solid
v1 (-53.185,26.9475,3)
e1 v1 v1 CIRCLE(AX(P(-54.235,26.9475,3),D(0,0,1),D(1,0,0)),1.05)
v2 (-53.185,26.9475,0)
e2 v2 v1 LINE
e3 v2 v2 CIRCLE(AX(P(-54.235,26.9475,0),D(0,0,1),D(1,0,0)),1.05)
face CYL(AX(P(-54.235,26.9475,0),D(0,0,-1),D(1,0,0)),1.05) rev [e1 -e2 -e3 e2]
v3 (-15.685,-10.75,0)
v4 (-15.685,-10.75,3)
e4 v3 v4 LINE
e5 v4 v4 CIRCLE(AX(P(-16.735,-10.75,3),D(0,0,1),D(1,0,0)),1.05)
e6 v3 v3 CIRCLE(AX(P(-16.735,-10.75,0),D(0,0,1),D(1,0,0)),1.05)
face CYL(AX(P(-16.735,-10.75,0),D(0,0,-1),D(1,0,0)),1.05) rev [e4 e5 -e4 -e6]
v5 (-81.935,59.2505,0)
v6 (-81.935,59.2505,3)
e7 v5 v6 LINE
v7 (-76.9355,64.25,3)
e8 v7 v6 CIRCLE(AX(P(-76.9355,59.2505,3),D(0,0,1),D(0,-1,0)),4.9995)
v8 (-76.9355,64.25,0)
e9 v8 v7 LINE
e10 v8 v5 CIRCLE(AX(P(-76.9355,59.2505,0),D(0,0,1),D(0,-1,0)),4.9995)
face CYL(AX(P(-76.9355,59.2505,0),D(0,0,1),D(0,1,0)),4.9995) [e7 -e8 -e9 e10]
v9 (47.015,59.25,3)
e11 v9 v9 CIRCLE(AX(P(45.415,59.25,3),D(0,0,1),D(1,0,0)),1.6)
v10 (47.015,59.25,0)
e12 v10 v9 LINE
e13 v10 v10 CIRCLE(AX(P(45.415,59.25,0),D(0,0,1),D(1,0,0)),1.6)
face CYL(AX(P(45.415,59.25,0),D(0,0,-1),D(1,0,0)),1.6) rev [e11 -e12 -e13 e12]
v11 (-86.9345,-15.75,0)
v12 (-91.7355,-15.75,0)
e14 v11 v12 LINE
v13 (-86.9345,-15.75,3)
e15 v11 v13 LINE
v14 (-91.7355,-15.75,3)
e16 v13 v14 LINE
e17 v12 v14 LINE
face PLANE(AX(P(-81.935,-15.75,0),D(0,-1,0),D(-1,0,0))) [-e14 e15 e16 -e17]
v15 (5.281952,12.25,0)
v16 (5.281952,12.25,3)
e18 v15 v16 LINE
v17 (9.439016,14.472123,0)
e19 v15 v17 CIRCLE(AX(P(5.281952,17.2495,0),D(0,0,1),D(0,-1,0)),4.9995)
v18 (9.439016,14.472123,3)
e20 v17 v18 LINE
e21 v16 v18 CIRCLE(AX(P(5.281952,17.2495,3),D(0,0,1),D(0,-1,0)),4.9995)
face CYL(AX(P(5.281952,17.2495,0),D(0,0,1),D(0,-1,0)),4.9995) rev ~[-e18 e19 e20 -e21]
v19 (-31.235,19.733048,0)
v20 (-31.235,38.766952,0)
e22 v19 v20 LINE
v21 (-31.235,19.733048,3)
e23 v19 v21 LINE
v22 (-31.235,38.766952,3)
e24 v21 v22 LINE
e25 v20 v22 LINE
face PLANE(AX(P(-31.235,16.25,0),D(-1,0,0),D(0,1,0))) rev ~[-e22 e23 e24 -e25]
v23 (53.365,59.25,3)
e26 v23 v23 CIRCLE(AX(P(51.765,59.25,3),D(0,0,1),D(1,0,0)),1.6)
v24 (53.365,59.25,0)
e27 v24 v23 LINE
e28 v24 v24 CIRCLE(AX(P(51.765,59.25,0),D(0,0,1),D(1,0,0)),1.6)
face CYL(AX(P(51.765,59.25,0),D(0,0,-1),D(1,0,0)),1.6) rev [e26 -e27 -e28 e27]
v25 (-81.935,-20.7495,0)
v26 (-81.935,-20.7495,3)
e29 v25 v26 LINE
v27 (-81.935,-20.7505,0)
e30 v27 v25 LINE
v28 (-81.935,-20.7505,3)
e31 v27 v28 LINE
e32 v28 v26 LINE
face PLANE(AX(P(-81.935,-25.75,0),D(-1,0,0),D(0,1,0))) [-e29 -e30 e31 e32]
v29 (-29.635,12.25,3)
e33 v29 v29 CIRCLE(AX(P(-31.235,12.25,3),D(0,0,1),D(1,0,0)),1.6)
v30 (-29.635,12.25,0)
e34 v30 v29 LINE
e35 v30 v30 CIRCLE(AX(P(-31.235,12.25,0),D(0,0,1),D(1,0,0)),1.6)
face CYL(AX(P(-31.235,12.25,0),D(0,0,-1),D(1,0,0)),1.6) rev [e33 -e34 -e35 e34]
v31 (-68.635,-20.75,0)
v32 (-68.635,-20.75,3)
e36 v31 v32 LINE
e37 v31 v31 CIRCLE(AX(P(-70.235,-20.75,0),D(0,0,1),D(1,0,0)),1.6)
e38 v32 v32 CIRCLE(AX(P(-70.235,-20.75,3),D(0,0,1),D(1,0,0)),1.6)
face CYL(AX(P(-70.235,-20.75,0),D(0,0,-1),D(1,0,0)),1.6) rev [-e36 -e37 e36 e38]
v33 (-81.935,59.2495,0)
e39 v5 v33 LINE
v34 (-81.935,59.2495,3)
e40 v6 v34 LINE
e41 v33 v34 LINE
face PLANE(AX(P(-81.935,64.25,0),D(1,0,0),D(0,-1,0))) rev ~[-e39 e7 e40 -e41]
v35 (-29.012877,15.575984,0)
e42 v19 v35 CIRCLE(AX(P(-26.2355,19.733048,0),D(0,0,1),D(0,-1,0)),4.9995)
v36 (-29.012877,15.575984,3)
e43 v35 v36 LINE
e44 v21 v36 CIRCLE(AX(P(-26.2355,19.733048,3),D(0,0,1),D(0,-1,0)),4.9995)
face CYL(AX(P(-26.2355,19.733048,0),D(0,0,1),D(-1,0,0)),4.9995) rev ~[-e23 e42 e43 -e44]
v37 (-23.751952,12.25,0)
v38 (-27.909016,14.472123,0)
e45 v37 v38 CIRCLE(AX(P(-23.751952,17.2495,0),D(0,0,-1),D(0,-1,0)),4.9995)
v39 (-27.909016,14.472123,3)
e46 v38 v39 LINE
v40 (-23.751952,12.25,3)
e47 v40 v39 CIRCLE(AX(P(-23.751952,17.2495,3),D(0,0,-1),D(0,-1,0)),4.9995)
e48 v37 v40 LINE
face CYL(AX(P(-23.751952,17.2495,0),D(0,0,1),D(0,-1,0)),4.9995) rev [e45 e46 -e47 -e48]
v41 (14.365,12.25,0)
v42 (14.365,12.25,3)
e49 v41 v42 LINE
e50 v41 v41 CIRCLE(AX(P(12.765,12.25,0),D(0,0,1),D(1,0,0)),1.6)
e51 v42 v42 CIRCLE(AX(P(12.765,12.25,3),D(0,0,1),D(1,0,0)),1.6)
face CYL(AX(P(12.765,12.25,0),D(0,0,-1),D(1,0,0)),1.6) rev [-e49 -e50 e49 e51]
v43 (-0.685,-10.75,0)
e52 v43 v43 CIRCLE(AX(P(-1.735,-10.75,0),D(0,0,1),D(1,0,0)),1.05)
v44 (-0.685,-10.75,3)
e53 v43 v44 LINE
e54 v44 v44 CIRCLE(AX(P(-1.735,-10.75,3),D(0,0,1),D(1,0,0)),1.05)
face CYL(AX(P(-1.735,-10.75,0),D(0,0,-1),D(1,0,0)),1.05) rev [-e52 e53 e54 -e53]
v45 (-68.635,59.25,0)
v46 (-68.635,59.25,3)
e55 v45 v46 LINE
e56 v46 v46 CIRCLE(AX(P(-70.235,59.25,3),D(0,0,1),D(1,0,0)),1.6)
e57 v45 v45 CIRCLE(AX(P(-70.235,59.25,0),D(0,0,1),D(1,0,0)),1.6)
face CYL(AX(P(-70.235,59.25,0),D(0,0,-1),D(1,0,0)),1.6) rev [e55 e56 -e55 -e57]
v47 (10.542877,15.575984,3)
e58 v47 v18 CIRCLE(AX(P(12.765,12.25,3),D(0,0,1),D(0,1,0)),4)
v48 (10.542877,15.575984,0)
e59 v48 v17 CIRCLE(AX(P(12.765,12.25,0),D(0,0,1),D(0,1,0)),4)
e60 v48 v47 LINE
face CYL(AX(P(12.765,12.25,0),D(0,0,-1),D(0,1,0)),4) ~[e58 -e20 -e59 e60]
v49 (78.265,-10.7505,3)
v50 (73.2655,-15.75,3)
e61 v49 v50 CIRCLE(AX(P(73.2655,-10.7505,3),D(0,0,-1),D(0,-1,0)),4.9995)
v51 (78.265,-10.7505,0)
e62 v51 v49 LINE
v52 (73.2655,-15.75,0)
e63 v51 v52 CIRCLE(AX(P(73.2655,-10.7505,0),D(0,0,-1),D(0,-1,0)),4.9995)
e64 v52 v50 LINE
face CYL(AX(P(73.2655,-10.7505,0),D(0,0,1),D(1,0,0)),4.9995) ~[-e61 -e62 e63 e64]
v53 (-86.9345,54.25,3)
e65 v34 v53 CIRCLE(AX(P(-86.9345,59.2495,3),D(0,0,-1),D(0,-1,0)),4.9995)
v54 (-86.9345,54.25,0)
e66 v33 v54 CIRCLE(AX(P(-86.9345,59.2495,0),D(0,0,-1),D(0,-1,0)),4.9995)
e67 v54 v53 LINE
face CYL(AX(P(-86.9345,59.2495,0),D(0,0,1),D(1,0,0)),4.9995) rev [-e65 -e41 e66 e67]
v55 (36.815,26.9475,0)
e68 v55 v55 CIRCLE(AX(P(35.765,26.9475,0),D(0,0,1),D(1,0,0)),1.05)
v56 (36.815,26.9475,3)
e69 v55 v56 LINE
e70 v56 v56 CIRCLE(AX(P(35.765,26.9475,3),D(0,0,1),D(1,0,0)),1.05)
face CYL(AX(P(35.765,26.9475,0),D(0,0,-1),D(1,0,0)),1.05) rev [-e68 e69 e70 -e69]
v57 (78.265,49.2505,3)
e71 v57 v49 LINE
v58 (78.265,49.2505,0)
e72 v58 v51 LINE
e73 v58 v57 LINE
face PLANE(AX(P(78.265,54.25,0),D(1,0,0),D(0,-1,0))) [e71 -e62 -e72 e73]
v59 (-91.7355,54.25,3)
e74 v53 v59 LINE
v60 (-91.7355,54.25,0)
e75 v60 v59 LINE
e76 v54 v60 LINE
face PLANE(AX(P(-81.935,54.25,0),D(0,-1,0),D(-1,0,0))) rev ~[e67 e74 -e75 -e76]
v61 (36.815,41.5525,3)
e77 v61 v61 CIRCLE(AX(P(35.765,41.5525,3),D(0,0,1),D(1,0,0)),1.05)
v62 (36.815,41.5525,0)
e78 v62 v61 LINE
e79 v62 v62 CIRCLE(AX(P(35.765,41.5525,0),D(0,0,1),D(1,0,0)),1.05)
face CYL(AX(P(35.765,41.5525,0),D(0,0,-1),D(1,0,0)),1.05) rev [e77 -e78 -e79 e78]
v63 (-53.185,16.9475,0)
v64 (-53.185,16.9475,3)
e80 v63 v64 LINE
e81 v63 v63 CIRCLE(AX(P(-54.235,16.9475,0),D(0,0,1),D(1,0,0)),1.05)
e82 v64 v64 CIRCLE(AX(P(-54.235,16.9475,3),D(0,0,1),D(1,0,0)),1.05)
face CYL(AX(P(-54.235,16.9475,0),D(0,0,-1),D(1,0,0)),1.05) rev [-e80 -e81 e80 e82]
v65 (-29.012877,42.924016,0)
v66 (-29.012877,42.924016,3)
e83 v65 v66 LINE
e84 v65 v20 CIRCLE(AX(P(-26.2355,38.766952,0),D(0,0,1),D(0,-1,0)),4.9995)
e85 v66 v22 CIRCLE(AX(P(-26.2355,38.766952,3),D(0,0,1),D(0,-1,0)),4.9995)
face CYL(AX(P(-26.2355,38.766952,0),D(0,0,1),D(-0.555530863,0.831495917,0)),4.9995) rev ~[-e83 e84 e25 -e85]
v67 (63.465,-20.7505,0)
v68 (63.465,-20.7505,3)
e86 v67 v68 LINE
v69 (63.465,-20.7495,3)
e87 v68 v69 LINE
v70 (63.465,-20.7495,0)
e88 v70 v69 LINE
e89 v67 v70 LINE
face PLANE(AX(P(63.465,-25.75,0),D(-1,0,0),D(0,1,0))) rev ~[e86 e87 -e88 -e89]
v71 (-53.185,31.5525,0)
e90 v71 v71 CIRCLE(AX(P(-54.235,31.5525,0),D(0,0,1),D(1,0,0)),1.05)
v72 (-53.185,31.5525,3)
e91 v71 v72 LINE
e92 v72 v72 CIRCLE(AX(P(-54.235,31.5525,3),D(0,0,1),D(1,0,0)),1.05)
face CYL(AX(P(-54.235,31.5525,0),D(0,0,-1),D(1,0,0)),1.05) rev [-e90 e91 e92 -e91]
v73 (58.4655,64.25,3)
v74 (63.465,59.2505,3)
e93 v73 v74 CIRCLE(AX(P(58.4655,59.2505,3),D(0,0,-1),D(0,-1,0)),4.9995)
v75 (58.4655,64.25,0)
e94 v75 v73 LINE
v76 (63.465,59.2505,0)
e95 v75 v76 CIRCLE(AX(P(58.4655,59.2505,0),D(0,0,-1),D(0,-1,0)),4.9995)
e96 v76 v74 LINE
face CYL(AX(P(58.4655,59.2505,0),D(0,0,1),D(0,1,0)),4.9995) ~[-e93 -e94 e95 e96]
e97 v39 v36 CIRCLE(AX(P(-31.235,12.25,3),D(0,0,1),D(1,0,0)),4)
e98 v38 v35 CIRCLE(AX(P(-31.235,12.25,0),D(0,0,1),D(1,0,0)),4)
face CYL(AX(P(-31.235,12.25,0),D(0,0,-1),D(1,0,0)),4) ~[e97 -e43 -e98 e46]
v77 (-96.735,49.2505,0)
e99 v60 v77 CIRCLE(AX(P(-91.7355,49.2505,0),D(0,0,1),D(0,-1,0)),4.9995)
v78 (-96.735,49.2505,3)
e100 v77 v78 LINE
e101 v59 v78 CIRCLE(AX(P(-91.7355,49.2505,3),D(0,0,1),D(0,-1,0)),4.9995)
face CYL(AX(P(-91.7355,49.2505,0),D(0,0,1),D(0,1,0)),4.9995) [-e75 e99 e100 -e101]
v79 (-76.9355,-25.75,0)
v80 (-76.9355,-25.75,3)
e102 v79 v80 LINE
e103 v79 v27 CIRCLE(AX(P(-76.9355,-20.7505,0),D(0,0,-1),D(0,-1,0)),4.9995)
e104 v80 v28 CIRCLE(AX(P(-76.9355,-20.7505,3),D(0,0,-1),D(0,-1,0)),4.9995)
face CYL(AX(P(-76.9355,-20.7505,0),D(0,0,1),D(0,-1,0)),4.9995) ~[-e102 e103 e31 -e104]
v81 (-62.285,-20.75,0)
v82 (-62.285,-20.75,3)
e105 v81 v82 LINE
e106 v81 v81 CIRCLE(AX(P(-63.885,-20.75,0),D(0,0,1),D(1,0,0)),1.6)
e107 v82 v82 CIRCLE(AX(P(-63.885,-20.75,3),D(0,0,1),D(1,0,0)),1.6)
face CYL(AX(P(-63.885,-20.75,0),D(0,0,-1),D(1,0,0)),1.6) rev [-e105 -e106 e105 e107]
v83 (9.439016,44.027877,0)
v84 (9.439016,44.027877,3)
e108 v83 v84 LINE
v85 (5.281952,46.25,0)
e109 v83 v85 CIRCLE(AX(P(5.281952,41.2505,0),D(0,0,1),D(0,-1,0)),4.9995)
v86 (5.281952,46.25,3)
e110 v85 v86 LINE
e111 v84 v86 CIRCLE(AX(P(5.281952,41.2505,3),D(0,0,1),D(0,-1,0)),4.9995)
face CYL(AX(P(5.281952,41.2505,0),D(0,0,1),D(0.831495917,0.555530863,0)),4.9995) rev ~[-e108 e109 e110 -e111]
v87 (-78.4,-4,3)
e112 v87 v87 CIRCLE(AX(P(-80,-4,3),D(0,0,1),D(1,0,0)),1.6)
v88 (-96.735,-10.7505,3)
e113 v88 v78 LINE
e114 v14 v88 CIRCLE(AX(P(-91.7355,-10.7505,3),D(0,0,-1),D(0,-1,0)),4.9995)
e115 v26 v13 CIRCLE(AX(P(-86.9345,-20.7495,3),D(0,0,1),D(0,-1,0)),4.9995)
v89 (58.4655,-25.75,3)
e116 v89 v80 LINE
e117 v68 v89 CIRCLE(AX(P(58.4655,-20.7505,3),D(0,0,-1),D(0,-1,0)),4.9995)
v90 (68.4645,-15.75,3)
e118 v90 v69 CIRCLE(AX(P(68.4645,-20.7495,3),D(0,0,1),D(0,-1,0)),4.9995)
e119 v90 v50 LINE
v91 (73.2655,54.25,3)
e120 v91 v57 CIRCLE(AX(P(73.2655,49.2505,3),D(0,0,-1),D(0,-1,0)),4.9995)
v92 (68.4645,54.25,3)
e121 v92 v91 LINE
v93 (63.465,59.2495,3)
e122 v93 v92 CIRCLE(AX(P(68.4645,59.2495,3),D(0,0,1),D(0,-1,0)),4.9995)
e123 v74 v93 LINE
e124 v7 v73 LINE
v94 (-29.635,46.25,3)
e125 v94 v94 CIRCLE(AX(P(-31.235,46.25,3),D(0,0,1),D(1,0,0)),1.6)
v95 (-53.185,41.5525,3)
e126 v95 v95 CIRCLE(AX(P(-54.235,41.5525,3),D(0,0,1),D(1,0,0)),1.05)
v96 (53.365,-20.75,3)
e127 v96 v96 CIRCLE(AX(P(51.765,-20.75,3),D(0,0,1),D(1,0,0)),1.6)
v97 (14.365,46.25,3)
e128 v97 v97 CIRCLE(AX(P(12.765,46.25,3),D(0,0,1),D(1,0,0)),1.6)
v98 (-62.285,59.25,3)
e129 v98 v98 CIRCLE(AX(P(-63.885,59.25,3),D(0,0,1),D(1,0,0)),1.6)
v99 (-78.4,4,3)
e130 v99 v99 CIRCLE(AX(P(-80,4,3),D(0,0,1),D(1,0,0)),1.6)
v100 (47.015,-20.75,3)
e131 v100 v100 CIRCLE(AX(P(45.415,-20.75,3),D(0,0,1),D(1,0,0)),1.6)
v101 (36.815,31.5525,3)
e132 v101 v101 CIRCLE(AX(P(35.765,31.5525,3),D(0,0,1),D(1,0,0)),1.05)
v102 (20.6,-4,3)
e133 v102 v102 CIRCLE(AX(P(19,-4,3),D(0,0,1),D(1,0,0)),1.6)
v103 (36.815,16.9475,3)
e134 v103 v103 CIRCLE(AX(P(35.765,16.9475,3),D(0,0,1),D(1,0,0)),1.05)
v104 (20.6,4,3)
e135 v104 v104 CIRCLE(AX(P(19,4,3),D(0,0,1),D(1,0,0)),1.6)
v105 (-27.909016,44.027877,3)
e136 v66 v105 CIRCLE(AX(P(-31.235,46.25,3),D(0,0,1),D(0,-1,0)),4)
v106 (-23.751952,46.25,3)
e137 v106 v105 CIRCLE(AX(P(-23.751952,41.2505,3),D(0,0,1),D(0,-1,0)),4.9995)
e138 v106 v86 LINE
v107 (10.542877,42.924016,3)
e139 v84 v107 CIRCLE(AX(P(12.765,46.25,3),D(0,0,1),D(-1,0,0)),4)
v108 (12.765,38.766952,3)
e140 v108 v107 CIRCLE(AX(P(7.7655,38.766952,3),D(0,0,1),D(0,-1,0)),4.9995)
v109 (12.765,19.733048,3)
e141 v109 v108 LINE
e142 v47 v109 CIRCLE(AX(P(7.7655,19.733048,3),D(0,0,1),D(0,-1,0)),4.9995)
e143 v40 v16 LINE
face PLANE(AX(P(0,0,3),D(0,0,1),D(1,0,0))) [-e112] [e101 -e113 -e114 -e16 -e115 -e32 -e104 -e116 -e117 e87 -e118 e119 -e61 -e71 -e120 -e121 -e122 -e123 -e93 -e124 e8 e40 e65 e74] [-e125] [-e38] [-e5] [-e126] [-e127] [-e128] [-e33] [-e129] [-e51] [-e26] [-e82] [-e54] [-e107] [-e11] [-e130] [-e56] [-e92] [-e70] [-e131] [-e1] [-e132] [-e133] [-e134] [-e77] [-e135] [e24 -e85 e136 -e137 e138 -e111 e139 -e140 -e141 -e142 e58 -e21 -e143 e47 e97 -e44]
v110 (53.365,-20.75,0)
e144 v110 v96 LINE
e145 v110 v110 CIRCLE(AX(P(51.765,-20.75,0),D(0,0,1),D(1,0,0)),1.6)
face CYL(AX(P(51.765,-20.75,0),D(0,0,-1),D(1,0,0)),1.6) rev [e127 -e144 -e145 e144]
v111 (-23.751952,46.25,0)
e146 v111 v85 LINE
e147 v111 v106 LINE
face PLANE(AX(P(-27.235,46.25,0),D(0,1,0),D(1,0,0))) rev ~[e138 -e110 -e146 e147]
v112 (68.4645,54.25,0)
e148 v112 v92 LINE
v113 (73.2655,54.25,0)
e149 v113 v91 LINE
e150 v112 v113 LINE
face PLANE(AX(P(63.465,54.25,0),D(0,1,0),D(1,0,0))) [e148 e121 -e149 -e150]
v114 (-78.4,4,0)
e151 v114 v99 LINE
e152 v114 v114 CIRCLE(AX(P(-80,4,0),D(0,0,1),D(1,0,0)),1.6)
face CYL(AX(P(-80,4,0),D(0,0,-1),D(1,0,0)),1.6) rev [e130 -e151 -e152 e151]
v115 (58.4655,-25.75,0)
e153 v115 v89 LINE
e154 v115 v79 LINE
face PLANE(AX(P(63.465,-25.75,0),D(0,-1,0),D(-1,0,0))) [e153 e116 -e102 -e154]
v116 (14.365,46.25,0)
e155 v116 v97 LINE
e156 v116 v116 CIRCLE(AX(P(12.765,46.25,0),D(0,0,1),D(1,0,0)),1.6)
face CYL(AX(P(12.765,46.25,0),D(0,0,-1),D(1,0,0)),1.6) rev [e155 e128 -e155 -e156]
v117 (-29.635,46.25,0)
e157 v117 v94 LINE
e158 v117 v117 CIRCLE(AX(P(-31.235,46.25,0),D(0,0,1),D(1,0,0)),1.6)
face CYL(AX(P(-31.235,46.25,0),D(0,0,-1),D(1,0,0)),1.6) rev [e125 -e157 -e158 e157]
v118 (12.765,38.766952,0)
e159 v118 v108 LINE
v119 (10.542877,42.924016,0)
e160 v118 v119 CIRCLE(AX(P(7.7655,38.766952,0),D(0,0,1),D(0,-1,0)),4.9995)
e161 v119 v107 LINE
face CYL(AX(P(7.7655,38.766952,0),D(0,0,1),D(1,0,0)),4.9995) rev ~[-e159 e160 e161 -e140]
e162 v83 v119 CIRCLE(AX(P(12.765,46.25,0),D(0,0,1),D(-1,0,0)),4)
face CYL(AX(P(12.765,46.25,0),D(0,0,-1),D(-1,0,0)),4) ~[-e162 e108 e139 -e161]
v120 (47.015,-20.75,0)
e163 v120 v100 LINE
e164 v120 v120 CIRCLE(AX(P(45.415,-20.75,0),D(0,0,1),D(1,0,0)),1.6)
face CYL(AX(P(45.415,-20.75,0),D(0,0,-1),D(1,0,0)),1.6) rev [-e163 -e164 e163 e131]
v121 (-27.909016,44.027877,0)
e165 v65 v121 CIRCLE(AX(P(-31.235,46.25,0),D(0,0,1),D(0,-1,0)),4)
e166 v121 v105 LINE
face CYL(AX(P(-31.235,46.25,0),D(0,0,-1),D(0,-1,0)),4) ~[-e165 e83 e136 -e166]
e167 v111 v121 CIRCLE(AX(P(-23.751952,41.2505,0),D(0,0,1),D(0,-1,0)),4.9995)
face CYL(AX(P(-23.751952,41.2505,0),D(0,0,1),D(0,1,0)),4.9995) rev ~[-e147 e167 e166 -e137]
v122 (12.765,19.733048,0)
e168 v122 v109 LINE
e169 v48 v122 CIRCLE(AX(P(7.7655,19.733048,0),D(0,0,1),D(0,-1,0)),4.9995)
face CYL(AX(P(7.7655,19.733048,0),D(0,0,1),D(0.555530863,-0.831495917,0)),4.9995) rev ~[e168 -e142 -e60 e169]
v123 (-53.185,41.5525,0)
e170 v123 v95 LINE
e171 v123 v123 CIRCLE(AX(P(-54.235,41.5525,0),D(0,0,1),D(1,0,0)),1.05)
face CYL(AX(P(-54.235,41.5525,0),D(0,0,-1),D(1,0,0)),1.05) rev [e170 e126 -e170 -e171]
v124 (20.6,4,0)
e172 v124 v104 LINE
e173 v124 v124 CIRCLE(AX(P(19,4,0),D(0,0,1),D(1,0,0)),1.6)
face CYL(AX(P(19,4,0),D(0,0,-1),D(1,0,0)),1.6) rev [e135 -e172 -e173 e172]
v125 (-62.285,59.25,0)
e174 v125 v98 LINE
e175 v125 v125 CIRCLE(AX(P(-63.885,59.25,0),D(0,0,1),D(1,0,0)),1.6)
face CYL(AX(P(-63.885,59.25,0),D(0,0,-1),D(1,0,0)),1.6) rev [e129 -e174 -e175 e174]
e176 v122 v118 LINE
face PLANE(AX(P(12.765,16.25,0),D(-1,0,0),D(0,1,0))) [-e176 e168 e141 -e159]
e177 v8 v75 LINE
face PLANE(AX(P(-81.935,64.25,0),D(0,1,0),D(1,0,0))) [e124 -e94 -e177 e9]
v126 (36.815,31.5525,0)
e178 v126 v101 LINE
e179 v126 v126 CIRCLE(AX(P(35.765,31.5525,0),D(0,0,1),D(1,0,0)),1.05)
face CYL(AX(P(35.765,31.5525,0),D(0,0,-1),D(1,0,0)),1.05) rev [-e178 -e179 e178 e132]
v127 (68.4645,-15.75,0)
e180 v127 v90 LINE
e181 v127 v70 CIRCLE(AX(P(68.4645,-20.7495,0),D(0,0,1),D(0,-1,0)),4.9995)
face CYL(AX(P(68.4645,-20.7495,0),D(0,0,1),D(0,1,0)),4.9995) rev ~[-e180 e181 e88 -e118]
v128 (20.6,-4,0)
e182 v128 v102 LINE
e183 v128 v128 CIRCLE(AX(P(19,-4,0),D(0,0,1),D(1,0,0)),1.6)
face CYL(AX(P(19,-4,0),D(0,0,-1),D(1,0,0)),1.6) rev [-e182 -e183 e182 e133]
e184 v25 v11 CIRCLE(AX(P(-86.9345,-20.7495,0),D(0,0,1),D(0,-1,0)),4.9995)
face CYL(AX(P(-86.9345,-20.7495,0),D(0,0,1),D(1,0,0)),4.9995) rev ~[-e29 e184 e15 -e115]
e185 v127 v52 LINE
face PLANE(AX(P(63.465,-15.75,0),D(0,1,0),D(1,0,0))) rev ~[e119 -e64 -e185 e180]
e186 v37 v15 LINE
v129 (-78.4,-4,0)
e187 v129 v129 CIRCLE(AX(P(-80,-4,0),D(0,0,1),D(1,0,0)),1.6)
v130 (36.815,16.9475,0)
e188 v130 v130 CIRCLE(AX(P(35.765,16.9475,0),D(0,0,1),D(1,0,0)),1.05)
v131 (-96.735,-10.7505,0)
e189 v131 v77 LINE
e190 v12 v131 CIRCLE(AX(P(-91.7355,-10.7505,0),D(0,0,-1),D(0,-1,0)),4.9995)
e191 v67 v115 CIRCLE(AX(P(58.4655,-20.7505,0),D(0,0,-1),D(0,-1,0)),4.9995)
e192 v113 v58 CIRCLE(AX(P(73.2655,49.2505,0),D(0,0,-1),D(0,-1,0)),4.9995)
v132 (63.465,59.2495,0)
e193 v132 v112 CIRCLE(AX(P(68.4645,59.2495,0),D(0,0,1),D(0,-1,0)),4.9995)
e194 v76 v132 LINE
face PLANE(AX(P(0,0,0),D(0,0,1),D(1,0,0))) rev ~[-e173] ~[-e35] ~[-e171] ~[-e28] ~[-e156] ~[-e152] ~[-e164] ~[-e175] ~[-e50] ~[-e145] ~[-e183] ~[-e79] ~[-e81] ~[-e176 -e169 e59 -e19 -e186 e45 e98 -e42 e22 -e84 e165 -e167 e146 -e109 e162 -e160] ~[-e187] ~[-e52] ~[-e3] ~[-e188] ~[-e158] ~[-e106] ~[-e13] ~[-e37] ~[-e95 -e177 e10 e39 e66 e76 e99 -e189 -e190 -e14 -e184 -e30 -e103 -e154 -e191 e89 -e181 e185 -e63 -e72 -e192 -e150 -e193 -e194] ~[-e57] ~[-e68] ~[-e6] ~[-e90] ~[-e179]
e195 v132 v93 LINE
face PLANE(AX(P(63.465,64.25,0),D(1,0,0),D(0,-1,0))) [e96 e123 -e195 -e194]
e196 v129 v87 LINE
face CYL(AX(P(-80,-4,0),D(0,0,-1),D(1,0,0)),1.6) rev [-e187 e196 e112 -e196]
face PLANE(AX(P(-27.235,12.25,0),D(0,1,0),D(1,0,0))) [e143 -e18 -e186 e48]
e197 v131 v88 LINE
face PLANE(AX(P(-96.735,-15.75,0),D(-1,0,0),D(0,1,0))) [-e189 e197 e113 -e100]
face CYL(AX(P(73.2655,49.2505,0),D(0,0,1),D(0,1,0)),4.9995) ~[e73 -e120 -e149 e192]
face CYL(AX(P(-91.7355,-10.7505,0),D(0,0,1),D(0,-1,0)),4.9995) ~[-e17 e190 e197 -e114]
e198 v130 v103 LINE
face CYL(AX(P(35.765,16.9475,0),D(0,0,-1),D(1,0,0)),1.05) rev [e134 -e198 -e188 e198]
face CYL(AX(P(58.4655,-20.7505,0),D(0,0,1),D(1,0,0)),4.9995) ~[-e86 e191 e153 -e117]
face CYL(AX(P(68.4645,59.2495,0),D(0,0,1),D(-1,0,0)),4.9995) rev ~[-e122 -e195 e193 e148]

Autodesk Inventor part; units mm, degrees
ref_plane "YZ Plane" through (0, 0, 0) normal (1, 0, 0) x (0, 1, 0)
ref_plane "XZ Plane" through (0, 0, 0) normal (0, 1, 0) x (-1, 0, 0)
ref_plane "XY Plane" through (0, 0, 0) normal (0, 0, 1) x (1, 0, 0)
sketch "スケッチ1" plane through (0, 0, 0) normal (0, 0, 1) x (1, 0, 0)
  line L0 (-96.735, 64.25) -> (78.265, 64.25)
  line L1 (78.265, 64.25) -> (78.265, -25.75)
  line L2 (78.265, -25.75) -> (-96.735, -25.75)
  line L3 (-96.735, -25.75) -> (-96.735, 64.25)
  line L4 (-96.735, 64.25) -> (78.265, -25.75) construction
  line L5 (78.265, 64.25) -> (-96.735, -25.75) construction
  line L6 (-96.735, 19.25) -> (78.265, 19.25) construction
  line L7 (-96.735, 0) -> (78.265, 0) construction
  line L8 (-80, 4) -> (-80, -4) construction
  circle A0 centre (-80, -4) radius 1.6
  line L9 (0, 64.25) -> (0, -25.75) construction
  line L10 (19, -4) -> (19, 4) construction
  circle A1 centre (19, -4) radius 1.6
  circle A2 centre (-80, 4) radius 1.6
  circle A3 centre (19, 4) radius 1.6
  line L11 (16, 12.5) -> (22, 12.5) construction
  line L12 (22, 12.5) -> (22, -12.5) construction
  line L13 (22, -12.5) -> (16, -12.5) construction
  line L14 (16, -12.5) -> (16, 12.5) construction
  line L15 (16, 12.5) -> (22, -12.5) construction
  line L16 (22, 12.5) -> (16, -12.5) construction
  line L17 (-83, 12.5) -> (-77, 12.5) construction
  line L18 (-77, 12.5) -> (-77, -12.5) construction
  line L19 (-77, -12.5) -> (-83, -12.5) construction
  line L20 (-83, -12.5) -> (-83, 12.5) construction
  line L21 (-83, 12.5) -> (-77, -12.5) construction
  line L22 (-77, 12.5) -> (-83, -12.5) construction
  line L23 (-67, 49.25) -> (6, 49.25) construction
  line L24 (6, 49.25) -> (6, -10.75) construction
  line L25 (6, -10.75) -> (-67, -10.75) construction
  line L26 (-67, -10.75) -> (-67, 49.25) construction
  line L27 (-67, 49.25) -> (6, -10.75) construction
  line L28 (6, 49.25) -> (-67, -10.75) construction
  line L29 (-83, -4.5) -> (-83, 20.5) construction
  line L30 (-83, 20.5) -> (-77, 20.5) construction
  line L31 (-77, 20.5) -> (-77, -4.5) construction
  line L32 (-77, -4.5) -> (-83, -4.5) construction
  circle A4 centre (-80, 12) radius 1.6
  circle A5 centre (-80, 4) radius 1.6
  line L33 (16, 20.5) -> (22, 20.5) construction
  line L34 (16, -4.5) -> (16, 20.5) construction
  line L35 (22, -4.5) -> (16, -4.5) construction
  line L36 (22, 20.5) -> (22, -4.5) construction
  circle A6 centre (19, 4) radius 1.6
  circle A7 centre (19, 12) radius 1.6
  line L37 (-83, 3.5) -> (-83, 28.5) construction
  line L38 (-83, 28.5) -> (-77, 28.5) construction
  line L39 (-77, 28.5) -> (-77, 3.5) construction
  line L40 (-77, 3.5) -> (-83, 3.5) construction
  circle A8 centre (-80, 20) radius 1.6
  circle A9 centre (-80, 12) radius 1.6
  line L41 (16, 28.5) -> (22, 28.5) construction
  line L42 (16, 3.5) -> (16, 28.5) construction
  line L43 (22, 3.5) -> (16, 3.5) construction
  line L44 (22, 28.5) -> (22, 3.5) construction
  circle A10 centre (19, 12) radius 1.6
  circle A11 centre (19, 20) radius 1.6
  circle A12 centre (-80, -12) radius 1.6
  line L45 (-77, -20.5) -> (-83, -20.5) construction
  line L46 (-83, -20.5) -> (-83, 4.5) construction
  line L47 (-77, 4.5) -> (-77, -20.5) construction
  line L48 (16, -20.5) -> (16, 4.5) construction
  circle A13 centre (19, -12) radius 1.6
  line L49 (22, -20.5) -> (16, -20.5) construction
  line L50 (22, 4.5) -> (22, -20.5) construction
  line L51 (45.415, -24.7) -> (77.215, -24.7) construction
  line L52 (77.215, -16.8) -> (45.415, -16.8) construction
  line L53 (45.415, -16.8) -> (45.415, -24.7) construction
  line L54 (45.415, -24.7) -> (77.215, -16.8) construction
  line L55 (77.215, -24.7) -> (45.415, -16.8) construction
  line L56 (77.215, -20.75) -> (45.415, -20.75) construction
  line L57 (61.315, -24.7) -> (61.315, -16.8) construction
  circle A14 centre (45.415, -20.75) radius 1.6
  circle A15 centre (51.765, -20.75) radius 1.6
  line L58 (73.615, -19.1623) -> (73.615, -22.3377) construction
  line L59 (73.615, -22.3377) -> (70.865, -23.9254) construction
  line L60 (70.865, -23.9254) -> (68.115, -22.3377) construction
  line L61 (68.115, -22.3377) -> (68.115, -19.1623) construction
  line L62 (68.115, -19.1623) -> (70.865, -17.5746) construction
  line L63 (70.865, -17.5746) -> (73.615, -19.1623) construction
  line L64 (-9.235, 64.25) -> (-9.235, -25.75) construction
  circle A16 centre (45.415, 59.25) radius 1.6
  circle A17 centre (51.765, 59.25) radius 1.6
  line L65 (73.615, 57.6623) -> (73.615, 60.8377) construction
  line L66 (73.615, 60.8377) -> (70.865, 62.4254) construction
  line L67 (70.865, 62.4254) -> (68.115, 60.8377) construction
  line L68 (68.115, 60.8377) -> (68.115, 57.6623) construction
  line L69 (68.115, 57.6623) -> (70.865, 56.0746) construction
  line L70 (70.865, 56.0746) -> (73.615, 57.6623) construction
  circle A18 centre (-63.885, -20.75) radius 1.6
  circle A19 centre (-70.235, -20.75) radius 1.6
  line L71 (-92.085, -19.1623) -> (-92.085, -22.3377) construction
  line L72 (-92.085, -22.3377) -> (-89.335, -23.9254) construction
  line L73 (-89.335, -23.9254) -> (-86.585, -22.3377) construction
  line L74 (-86.585, -22.3377) -> (-86.585, -19.1623) construction
  line L75 (-86.585, -19.1623) -> (-89.335, -17.5746) construction
  line L76 (-89.335, -17.5746) -> (-92.085, -19.1623) construction
  circle A20 centre (-63.885, 59.25) radius 1.6
  circle A21 centre (-70.235, 59.25) radius 1.6
  line L77 (-86.585, 57.6623) -> (-89.335, 56.0746) construction
  line L78 (-86.585, 60.8377) -> (-86.585, 57.6623) construction
  line L79 (-89.335, 62.4254) -> (-86.585, 60.8377) construction
  line L80 (-92.085, 60.8377) -> (-89.335, 62.4254) construction
  line L81 (-92.085, 57.6623) -> (-92.085, 60.8377) construction
  line L82 (-89.335, 56.0746) -> (-92.085, 57.6623) construction
  line L83 (-34.235, 49.25) -> (15.765, 49.25) construction
  line L84 (15.765, 49.25) -> (15.765, 9.25) construction
  line L85 (15.765, 9.25) -> (-34.235, 9.25) construction
  line L86 (-34.235, 9.25) -> (-34.235, 49.25) construction
  line L87 (-34.235, 49.25) -> (15.765, 9.25) construction
  line L88 (15.765, 49.25) -> (-34.235, 9.25) construction
  line L89 (-31.235, 46.25) -> (12.765, 46.25) construction
  line L90 (12.765, 46.25) -> (12.765, 12.25) construction
  line L91 (12.765, 12.25) -> (-31.235, 12.25) construction
  line L92 (-31.235, 12.25) -> (-31.235, 46.25) construction
  line L93 (-31.235, 46.25) -> (12.765, 12.25) construction
  line L94 (12.765, 46.25) -> (-31.235, 12.25) construction
  circle A22 centre (-31.235, 12.25) radius 1.6
  circle A23 centre (-31.235, 46.25) radius 1.6
  circle A24 centre (12.765, 46.25) radius 1.6
  circle A25 centre (12.765, 12.25) radius 1.6
  line L95 (-62, -21.85) -> (-61.735, -21.85)
  line L96 (77.215, -16.8) -> (77.215, -24.7) construction
  line L97 (63.465, -25.75) -> (63.465, -15.75)
  line L98 (63.465, -15.75) -> (78.265, -15.75)
  line L99 (70.865, -23.9254) -> (70.865, -17.5746) construction
  line L100 (63.465, 64.25) -> (63.465, 54.25)
  line L101 (63.465, 54.25) -> (78.265, 54.25)
  line L102 (-81.935, -25.75) -> (-81.935, -15.75)
  line L103 (-81.935, -15.75) -> (-96.735, -15.75)
  line L104 (-81.935, 54.25) -> (-96.735, 54.25)
  line L105 (-81.935, 64.25) -> (-81.935, 54.25)
  line L106 (-9.235, 49.25) -> (-9.235, 9.25) construction
  circle A26 centre (35.765, 31.5525) radius 1.05
  circle A27 centre (35.765, 41.5525) radius 1.05
  line L107 (35.765, 31.5525) -> (35.765, 41.5525) construction
  line L108 (-34.235, 29.25) -> (15.765, 29.25) construction
  circle A28 centre (35.765, 26.9475) radius 1.05
  circle A29 centre (35.765, 16.9475) radius 1.05
  circle A30 centre (-54.235, 31.5525) radius 1.05
  circle A31 centre (-54.235, 41.5525) radius 1.05
  circle A32 centre (-54.235, 26.9475) radius 1.05
  circle A33 centre (-54.235, 16.9475) radius 1.05
  circle A34 centre (-16.735, -10.75) radius 1.05
  circle A35 centre (-1.735, -10.75) radius 1.05
  line L109 (-1.735, -10.75) -> (-16.735, -10.75) construction
  arc A36 (-27.235, 12.25) -> (-31.235, 16.25) centre (-31.235, 12.25) ccw
  line L110 (-31.235, 16.25) -> (-31.235, 42.25)
  line L111 (-27.235, 12.25) -> (8.765, 12.25)
  arc A37 (12.765, 16.25) -> (8.765, 12.25) centre (12.765, 12.25) ccw
  line L112 (12.765, 16.25) -> (12.765, 42.25)
  arc A38 (-31.235, 42.25) -> (-27.235, 46.25) centre (-31.235, 46.25) ccw
  line L113 (-27.235, 46.25) -> (8.765, 46.25)
  arc A39 (8.765, 46.25) -> (12.765, 42.25) centre (12.765, 46.25) ccw
  point P0 (0, 0)
  point P1 (-9.235, 19.25)
  point P2 (-80, 0)
  point P3 (19, 0)
  point P4 (-30.5, 19.25)
  point P5 (61.315, -20.75)
  point P6 (70.865, -20.75)
  point P7 (-9.235, 29.25)
  point P8 (-9.235, 29.25)
  point P9 (-9.235, 29.25)
  point P10 (35.765, 36.5525)
  point P11 (-9.235, -10.75)
  dimension "d0" = 175
  dimension "d1" = 90
  dimension "d2" = 25.75
  dimension "d3" = 3.2
  dimension "d4" = 8
  dimension "d5" = 8
  dimension "d6" = 3.2
  dimension "d16" = 78.265
  dimension "d17" = 6
  dimension "d18" = 25
  dimension "d19" = 22
  dimension "d20" = 6
  dimension "d21" = 25
  dimension "d22" = 105
  dimension "d23" = 15
  dimension "d24" = 15
  dimension "d25" = 10
  dimension "d26" = 10
  dimension "d57" = 8
  dimension "d64" = 8
  dimension "d69" = 31.8
  dimension "d70" = 7.9
  dimension "d72" = 3.2
  dimension "d75" = 5.5
  dimension "d79" = 50
  dimension "d80" = 40
  dimension "d81" = 44
  dimension "d82" = 34
  dimension "d83" = 3.2
  dimension "d88" = 10
  dimension "d89" = 87.5
  dimension "d102" = 19.1
  dimension "d103" = 5
  dimension "d104" = 1.05
  dimension "d105" = 7.4
  dimension "d106" = 1.05
  dimension "d107" = 2.1
  dimension "d109" = 20
  dimension "d110" = 10
  dimension "d111" = 7.3025
  dimension "d112" = 42.765
  dimension "d113" = 10
  dimension "d114" = 15
  dimension "d115" = 20
  dimension "d116" = 4
extrude "押し出し1" add sketch "スケッチ1" along normal blind 3 contours L0 L100 L101 L1 L98 L97 L2 L102 L103 L3 L104 L105 | A4 | A7 | A8 | A11 | A12 | A13
fillet "フィレット1" radius 5 20 edges at (-81.935, -25.75, 1.5) (-81.935, -15.75, 1.5) (-96.735, -15.75, 1.5) (-96.735, 54.25, 1.5) (-81.935, 54.25, 1.5) (-81.935, 64.25, 1.5) (63.465, 64.25, 1.5) (63.465, 54.25, 1.5) (78.265, 54.25, 1.5) (78.265, -15.75, 1.5) (63.465, -25.75, 1.5) (63.465, -15.75, 1.5) (-27.235, 12.25, 1.5) (-31.235, 16.25, 1.5) (-31.235, 42.25, 1.5) (-27.235, 46.25, 1.5) (8.765, 46.25, 1.5) (12.765, 42.25, 1.5) (12.765, 16.25, 1.5) (8.765, 12.25, 1.5)
equation "\"d3\" = d6"
equation "\"d4\" = d5"
equation "\"d20\" = d17"
equation "\"d21\" = d18"
properties part number "Sole_frame" material "GFRP"
